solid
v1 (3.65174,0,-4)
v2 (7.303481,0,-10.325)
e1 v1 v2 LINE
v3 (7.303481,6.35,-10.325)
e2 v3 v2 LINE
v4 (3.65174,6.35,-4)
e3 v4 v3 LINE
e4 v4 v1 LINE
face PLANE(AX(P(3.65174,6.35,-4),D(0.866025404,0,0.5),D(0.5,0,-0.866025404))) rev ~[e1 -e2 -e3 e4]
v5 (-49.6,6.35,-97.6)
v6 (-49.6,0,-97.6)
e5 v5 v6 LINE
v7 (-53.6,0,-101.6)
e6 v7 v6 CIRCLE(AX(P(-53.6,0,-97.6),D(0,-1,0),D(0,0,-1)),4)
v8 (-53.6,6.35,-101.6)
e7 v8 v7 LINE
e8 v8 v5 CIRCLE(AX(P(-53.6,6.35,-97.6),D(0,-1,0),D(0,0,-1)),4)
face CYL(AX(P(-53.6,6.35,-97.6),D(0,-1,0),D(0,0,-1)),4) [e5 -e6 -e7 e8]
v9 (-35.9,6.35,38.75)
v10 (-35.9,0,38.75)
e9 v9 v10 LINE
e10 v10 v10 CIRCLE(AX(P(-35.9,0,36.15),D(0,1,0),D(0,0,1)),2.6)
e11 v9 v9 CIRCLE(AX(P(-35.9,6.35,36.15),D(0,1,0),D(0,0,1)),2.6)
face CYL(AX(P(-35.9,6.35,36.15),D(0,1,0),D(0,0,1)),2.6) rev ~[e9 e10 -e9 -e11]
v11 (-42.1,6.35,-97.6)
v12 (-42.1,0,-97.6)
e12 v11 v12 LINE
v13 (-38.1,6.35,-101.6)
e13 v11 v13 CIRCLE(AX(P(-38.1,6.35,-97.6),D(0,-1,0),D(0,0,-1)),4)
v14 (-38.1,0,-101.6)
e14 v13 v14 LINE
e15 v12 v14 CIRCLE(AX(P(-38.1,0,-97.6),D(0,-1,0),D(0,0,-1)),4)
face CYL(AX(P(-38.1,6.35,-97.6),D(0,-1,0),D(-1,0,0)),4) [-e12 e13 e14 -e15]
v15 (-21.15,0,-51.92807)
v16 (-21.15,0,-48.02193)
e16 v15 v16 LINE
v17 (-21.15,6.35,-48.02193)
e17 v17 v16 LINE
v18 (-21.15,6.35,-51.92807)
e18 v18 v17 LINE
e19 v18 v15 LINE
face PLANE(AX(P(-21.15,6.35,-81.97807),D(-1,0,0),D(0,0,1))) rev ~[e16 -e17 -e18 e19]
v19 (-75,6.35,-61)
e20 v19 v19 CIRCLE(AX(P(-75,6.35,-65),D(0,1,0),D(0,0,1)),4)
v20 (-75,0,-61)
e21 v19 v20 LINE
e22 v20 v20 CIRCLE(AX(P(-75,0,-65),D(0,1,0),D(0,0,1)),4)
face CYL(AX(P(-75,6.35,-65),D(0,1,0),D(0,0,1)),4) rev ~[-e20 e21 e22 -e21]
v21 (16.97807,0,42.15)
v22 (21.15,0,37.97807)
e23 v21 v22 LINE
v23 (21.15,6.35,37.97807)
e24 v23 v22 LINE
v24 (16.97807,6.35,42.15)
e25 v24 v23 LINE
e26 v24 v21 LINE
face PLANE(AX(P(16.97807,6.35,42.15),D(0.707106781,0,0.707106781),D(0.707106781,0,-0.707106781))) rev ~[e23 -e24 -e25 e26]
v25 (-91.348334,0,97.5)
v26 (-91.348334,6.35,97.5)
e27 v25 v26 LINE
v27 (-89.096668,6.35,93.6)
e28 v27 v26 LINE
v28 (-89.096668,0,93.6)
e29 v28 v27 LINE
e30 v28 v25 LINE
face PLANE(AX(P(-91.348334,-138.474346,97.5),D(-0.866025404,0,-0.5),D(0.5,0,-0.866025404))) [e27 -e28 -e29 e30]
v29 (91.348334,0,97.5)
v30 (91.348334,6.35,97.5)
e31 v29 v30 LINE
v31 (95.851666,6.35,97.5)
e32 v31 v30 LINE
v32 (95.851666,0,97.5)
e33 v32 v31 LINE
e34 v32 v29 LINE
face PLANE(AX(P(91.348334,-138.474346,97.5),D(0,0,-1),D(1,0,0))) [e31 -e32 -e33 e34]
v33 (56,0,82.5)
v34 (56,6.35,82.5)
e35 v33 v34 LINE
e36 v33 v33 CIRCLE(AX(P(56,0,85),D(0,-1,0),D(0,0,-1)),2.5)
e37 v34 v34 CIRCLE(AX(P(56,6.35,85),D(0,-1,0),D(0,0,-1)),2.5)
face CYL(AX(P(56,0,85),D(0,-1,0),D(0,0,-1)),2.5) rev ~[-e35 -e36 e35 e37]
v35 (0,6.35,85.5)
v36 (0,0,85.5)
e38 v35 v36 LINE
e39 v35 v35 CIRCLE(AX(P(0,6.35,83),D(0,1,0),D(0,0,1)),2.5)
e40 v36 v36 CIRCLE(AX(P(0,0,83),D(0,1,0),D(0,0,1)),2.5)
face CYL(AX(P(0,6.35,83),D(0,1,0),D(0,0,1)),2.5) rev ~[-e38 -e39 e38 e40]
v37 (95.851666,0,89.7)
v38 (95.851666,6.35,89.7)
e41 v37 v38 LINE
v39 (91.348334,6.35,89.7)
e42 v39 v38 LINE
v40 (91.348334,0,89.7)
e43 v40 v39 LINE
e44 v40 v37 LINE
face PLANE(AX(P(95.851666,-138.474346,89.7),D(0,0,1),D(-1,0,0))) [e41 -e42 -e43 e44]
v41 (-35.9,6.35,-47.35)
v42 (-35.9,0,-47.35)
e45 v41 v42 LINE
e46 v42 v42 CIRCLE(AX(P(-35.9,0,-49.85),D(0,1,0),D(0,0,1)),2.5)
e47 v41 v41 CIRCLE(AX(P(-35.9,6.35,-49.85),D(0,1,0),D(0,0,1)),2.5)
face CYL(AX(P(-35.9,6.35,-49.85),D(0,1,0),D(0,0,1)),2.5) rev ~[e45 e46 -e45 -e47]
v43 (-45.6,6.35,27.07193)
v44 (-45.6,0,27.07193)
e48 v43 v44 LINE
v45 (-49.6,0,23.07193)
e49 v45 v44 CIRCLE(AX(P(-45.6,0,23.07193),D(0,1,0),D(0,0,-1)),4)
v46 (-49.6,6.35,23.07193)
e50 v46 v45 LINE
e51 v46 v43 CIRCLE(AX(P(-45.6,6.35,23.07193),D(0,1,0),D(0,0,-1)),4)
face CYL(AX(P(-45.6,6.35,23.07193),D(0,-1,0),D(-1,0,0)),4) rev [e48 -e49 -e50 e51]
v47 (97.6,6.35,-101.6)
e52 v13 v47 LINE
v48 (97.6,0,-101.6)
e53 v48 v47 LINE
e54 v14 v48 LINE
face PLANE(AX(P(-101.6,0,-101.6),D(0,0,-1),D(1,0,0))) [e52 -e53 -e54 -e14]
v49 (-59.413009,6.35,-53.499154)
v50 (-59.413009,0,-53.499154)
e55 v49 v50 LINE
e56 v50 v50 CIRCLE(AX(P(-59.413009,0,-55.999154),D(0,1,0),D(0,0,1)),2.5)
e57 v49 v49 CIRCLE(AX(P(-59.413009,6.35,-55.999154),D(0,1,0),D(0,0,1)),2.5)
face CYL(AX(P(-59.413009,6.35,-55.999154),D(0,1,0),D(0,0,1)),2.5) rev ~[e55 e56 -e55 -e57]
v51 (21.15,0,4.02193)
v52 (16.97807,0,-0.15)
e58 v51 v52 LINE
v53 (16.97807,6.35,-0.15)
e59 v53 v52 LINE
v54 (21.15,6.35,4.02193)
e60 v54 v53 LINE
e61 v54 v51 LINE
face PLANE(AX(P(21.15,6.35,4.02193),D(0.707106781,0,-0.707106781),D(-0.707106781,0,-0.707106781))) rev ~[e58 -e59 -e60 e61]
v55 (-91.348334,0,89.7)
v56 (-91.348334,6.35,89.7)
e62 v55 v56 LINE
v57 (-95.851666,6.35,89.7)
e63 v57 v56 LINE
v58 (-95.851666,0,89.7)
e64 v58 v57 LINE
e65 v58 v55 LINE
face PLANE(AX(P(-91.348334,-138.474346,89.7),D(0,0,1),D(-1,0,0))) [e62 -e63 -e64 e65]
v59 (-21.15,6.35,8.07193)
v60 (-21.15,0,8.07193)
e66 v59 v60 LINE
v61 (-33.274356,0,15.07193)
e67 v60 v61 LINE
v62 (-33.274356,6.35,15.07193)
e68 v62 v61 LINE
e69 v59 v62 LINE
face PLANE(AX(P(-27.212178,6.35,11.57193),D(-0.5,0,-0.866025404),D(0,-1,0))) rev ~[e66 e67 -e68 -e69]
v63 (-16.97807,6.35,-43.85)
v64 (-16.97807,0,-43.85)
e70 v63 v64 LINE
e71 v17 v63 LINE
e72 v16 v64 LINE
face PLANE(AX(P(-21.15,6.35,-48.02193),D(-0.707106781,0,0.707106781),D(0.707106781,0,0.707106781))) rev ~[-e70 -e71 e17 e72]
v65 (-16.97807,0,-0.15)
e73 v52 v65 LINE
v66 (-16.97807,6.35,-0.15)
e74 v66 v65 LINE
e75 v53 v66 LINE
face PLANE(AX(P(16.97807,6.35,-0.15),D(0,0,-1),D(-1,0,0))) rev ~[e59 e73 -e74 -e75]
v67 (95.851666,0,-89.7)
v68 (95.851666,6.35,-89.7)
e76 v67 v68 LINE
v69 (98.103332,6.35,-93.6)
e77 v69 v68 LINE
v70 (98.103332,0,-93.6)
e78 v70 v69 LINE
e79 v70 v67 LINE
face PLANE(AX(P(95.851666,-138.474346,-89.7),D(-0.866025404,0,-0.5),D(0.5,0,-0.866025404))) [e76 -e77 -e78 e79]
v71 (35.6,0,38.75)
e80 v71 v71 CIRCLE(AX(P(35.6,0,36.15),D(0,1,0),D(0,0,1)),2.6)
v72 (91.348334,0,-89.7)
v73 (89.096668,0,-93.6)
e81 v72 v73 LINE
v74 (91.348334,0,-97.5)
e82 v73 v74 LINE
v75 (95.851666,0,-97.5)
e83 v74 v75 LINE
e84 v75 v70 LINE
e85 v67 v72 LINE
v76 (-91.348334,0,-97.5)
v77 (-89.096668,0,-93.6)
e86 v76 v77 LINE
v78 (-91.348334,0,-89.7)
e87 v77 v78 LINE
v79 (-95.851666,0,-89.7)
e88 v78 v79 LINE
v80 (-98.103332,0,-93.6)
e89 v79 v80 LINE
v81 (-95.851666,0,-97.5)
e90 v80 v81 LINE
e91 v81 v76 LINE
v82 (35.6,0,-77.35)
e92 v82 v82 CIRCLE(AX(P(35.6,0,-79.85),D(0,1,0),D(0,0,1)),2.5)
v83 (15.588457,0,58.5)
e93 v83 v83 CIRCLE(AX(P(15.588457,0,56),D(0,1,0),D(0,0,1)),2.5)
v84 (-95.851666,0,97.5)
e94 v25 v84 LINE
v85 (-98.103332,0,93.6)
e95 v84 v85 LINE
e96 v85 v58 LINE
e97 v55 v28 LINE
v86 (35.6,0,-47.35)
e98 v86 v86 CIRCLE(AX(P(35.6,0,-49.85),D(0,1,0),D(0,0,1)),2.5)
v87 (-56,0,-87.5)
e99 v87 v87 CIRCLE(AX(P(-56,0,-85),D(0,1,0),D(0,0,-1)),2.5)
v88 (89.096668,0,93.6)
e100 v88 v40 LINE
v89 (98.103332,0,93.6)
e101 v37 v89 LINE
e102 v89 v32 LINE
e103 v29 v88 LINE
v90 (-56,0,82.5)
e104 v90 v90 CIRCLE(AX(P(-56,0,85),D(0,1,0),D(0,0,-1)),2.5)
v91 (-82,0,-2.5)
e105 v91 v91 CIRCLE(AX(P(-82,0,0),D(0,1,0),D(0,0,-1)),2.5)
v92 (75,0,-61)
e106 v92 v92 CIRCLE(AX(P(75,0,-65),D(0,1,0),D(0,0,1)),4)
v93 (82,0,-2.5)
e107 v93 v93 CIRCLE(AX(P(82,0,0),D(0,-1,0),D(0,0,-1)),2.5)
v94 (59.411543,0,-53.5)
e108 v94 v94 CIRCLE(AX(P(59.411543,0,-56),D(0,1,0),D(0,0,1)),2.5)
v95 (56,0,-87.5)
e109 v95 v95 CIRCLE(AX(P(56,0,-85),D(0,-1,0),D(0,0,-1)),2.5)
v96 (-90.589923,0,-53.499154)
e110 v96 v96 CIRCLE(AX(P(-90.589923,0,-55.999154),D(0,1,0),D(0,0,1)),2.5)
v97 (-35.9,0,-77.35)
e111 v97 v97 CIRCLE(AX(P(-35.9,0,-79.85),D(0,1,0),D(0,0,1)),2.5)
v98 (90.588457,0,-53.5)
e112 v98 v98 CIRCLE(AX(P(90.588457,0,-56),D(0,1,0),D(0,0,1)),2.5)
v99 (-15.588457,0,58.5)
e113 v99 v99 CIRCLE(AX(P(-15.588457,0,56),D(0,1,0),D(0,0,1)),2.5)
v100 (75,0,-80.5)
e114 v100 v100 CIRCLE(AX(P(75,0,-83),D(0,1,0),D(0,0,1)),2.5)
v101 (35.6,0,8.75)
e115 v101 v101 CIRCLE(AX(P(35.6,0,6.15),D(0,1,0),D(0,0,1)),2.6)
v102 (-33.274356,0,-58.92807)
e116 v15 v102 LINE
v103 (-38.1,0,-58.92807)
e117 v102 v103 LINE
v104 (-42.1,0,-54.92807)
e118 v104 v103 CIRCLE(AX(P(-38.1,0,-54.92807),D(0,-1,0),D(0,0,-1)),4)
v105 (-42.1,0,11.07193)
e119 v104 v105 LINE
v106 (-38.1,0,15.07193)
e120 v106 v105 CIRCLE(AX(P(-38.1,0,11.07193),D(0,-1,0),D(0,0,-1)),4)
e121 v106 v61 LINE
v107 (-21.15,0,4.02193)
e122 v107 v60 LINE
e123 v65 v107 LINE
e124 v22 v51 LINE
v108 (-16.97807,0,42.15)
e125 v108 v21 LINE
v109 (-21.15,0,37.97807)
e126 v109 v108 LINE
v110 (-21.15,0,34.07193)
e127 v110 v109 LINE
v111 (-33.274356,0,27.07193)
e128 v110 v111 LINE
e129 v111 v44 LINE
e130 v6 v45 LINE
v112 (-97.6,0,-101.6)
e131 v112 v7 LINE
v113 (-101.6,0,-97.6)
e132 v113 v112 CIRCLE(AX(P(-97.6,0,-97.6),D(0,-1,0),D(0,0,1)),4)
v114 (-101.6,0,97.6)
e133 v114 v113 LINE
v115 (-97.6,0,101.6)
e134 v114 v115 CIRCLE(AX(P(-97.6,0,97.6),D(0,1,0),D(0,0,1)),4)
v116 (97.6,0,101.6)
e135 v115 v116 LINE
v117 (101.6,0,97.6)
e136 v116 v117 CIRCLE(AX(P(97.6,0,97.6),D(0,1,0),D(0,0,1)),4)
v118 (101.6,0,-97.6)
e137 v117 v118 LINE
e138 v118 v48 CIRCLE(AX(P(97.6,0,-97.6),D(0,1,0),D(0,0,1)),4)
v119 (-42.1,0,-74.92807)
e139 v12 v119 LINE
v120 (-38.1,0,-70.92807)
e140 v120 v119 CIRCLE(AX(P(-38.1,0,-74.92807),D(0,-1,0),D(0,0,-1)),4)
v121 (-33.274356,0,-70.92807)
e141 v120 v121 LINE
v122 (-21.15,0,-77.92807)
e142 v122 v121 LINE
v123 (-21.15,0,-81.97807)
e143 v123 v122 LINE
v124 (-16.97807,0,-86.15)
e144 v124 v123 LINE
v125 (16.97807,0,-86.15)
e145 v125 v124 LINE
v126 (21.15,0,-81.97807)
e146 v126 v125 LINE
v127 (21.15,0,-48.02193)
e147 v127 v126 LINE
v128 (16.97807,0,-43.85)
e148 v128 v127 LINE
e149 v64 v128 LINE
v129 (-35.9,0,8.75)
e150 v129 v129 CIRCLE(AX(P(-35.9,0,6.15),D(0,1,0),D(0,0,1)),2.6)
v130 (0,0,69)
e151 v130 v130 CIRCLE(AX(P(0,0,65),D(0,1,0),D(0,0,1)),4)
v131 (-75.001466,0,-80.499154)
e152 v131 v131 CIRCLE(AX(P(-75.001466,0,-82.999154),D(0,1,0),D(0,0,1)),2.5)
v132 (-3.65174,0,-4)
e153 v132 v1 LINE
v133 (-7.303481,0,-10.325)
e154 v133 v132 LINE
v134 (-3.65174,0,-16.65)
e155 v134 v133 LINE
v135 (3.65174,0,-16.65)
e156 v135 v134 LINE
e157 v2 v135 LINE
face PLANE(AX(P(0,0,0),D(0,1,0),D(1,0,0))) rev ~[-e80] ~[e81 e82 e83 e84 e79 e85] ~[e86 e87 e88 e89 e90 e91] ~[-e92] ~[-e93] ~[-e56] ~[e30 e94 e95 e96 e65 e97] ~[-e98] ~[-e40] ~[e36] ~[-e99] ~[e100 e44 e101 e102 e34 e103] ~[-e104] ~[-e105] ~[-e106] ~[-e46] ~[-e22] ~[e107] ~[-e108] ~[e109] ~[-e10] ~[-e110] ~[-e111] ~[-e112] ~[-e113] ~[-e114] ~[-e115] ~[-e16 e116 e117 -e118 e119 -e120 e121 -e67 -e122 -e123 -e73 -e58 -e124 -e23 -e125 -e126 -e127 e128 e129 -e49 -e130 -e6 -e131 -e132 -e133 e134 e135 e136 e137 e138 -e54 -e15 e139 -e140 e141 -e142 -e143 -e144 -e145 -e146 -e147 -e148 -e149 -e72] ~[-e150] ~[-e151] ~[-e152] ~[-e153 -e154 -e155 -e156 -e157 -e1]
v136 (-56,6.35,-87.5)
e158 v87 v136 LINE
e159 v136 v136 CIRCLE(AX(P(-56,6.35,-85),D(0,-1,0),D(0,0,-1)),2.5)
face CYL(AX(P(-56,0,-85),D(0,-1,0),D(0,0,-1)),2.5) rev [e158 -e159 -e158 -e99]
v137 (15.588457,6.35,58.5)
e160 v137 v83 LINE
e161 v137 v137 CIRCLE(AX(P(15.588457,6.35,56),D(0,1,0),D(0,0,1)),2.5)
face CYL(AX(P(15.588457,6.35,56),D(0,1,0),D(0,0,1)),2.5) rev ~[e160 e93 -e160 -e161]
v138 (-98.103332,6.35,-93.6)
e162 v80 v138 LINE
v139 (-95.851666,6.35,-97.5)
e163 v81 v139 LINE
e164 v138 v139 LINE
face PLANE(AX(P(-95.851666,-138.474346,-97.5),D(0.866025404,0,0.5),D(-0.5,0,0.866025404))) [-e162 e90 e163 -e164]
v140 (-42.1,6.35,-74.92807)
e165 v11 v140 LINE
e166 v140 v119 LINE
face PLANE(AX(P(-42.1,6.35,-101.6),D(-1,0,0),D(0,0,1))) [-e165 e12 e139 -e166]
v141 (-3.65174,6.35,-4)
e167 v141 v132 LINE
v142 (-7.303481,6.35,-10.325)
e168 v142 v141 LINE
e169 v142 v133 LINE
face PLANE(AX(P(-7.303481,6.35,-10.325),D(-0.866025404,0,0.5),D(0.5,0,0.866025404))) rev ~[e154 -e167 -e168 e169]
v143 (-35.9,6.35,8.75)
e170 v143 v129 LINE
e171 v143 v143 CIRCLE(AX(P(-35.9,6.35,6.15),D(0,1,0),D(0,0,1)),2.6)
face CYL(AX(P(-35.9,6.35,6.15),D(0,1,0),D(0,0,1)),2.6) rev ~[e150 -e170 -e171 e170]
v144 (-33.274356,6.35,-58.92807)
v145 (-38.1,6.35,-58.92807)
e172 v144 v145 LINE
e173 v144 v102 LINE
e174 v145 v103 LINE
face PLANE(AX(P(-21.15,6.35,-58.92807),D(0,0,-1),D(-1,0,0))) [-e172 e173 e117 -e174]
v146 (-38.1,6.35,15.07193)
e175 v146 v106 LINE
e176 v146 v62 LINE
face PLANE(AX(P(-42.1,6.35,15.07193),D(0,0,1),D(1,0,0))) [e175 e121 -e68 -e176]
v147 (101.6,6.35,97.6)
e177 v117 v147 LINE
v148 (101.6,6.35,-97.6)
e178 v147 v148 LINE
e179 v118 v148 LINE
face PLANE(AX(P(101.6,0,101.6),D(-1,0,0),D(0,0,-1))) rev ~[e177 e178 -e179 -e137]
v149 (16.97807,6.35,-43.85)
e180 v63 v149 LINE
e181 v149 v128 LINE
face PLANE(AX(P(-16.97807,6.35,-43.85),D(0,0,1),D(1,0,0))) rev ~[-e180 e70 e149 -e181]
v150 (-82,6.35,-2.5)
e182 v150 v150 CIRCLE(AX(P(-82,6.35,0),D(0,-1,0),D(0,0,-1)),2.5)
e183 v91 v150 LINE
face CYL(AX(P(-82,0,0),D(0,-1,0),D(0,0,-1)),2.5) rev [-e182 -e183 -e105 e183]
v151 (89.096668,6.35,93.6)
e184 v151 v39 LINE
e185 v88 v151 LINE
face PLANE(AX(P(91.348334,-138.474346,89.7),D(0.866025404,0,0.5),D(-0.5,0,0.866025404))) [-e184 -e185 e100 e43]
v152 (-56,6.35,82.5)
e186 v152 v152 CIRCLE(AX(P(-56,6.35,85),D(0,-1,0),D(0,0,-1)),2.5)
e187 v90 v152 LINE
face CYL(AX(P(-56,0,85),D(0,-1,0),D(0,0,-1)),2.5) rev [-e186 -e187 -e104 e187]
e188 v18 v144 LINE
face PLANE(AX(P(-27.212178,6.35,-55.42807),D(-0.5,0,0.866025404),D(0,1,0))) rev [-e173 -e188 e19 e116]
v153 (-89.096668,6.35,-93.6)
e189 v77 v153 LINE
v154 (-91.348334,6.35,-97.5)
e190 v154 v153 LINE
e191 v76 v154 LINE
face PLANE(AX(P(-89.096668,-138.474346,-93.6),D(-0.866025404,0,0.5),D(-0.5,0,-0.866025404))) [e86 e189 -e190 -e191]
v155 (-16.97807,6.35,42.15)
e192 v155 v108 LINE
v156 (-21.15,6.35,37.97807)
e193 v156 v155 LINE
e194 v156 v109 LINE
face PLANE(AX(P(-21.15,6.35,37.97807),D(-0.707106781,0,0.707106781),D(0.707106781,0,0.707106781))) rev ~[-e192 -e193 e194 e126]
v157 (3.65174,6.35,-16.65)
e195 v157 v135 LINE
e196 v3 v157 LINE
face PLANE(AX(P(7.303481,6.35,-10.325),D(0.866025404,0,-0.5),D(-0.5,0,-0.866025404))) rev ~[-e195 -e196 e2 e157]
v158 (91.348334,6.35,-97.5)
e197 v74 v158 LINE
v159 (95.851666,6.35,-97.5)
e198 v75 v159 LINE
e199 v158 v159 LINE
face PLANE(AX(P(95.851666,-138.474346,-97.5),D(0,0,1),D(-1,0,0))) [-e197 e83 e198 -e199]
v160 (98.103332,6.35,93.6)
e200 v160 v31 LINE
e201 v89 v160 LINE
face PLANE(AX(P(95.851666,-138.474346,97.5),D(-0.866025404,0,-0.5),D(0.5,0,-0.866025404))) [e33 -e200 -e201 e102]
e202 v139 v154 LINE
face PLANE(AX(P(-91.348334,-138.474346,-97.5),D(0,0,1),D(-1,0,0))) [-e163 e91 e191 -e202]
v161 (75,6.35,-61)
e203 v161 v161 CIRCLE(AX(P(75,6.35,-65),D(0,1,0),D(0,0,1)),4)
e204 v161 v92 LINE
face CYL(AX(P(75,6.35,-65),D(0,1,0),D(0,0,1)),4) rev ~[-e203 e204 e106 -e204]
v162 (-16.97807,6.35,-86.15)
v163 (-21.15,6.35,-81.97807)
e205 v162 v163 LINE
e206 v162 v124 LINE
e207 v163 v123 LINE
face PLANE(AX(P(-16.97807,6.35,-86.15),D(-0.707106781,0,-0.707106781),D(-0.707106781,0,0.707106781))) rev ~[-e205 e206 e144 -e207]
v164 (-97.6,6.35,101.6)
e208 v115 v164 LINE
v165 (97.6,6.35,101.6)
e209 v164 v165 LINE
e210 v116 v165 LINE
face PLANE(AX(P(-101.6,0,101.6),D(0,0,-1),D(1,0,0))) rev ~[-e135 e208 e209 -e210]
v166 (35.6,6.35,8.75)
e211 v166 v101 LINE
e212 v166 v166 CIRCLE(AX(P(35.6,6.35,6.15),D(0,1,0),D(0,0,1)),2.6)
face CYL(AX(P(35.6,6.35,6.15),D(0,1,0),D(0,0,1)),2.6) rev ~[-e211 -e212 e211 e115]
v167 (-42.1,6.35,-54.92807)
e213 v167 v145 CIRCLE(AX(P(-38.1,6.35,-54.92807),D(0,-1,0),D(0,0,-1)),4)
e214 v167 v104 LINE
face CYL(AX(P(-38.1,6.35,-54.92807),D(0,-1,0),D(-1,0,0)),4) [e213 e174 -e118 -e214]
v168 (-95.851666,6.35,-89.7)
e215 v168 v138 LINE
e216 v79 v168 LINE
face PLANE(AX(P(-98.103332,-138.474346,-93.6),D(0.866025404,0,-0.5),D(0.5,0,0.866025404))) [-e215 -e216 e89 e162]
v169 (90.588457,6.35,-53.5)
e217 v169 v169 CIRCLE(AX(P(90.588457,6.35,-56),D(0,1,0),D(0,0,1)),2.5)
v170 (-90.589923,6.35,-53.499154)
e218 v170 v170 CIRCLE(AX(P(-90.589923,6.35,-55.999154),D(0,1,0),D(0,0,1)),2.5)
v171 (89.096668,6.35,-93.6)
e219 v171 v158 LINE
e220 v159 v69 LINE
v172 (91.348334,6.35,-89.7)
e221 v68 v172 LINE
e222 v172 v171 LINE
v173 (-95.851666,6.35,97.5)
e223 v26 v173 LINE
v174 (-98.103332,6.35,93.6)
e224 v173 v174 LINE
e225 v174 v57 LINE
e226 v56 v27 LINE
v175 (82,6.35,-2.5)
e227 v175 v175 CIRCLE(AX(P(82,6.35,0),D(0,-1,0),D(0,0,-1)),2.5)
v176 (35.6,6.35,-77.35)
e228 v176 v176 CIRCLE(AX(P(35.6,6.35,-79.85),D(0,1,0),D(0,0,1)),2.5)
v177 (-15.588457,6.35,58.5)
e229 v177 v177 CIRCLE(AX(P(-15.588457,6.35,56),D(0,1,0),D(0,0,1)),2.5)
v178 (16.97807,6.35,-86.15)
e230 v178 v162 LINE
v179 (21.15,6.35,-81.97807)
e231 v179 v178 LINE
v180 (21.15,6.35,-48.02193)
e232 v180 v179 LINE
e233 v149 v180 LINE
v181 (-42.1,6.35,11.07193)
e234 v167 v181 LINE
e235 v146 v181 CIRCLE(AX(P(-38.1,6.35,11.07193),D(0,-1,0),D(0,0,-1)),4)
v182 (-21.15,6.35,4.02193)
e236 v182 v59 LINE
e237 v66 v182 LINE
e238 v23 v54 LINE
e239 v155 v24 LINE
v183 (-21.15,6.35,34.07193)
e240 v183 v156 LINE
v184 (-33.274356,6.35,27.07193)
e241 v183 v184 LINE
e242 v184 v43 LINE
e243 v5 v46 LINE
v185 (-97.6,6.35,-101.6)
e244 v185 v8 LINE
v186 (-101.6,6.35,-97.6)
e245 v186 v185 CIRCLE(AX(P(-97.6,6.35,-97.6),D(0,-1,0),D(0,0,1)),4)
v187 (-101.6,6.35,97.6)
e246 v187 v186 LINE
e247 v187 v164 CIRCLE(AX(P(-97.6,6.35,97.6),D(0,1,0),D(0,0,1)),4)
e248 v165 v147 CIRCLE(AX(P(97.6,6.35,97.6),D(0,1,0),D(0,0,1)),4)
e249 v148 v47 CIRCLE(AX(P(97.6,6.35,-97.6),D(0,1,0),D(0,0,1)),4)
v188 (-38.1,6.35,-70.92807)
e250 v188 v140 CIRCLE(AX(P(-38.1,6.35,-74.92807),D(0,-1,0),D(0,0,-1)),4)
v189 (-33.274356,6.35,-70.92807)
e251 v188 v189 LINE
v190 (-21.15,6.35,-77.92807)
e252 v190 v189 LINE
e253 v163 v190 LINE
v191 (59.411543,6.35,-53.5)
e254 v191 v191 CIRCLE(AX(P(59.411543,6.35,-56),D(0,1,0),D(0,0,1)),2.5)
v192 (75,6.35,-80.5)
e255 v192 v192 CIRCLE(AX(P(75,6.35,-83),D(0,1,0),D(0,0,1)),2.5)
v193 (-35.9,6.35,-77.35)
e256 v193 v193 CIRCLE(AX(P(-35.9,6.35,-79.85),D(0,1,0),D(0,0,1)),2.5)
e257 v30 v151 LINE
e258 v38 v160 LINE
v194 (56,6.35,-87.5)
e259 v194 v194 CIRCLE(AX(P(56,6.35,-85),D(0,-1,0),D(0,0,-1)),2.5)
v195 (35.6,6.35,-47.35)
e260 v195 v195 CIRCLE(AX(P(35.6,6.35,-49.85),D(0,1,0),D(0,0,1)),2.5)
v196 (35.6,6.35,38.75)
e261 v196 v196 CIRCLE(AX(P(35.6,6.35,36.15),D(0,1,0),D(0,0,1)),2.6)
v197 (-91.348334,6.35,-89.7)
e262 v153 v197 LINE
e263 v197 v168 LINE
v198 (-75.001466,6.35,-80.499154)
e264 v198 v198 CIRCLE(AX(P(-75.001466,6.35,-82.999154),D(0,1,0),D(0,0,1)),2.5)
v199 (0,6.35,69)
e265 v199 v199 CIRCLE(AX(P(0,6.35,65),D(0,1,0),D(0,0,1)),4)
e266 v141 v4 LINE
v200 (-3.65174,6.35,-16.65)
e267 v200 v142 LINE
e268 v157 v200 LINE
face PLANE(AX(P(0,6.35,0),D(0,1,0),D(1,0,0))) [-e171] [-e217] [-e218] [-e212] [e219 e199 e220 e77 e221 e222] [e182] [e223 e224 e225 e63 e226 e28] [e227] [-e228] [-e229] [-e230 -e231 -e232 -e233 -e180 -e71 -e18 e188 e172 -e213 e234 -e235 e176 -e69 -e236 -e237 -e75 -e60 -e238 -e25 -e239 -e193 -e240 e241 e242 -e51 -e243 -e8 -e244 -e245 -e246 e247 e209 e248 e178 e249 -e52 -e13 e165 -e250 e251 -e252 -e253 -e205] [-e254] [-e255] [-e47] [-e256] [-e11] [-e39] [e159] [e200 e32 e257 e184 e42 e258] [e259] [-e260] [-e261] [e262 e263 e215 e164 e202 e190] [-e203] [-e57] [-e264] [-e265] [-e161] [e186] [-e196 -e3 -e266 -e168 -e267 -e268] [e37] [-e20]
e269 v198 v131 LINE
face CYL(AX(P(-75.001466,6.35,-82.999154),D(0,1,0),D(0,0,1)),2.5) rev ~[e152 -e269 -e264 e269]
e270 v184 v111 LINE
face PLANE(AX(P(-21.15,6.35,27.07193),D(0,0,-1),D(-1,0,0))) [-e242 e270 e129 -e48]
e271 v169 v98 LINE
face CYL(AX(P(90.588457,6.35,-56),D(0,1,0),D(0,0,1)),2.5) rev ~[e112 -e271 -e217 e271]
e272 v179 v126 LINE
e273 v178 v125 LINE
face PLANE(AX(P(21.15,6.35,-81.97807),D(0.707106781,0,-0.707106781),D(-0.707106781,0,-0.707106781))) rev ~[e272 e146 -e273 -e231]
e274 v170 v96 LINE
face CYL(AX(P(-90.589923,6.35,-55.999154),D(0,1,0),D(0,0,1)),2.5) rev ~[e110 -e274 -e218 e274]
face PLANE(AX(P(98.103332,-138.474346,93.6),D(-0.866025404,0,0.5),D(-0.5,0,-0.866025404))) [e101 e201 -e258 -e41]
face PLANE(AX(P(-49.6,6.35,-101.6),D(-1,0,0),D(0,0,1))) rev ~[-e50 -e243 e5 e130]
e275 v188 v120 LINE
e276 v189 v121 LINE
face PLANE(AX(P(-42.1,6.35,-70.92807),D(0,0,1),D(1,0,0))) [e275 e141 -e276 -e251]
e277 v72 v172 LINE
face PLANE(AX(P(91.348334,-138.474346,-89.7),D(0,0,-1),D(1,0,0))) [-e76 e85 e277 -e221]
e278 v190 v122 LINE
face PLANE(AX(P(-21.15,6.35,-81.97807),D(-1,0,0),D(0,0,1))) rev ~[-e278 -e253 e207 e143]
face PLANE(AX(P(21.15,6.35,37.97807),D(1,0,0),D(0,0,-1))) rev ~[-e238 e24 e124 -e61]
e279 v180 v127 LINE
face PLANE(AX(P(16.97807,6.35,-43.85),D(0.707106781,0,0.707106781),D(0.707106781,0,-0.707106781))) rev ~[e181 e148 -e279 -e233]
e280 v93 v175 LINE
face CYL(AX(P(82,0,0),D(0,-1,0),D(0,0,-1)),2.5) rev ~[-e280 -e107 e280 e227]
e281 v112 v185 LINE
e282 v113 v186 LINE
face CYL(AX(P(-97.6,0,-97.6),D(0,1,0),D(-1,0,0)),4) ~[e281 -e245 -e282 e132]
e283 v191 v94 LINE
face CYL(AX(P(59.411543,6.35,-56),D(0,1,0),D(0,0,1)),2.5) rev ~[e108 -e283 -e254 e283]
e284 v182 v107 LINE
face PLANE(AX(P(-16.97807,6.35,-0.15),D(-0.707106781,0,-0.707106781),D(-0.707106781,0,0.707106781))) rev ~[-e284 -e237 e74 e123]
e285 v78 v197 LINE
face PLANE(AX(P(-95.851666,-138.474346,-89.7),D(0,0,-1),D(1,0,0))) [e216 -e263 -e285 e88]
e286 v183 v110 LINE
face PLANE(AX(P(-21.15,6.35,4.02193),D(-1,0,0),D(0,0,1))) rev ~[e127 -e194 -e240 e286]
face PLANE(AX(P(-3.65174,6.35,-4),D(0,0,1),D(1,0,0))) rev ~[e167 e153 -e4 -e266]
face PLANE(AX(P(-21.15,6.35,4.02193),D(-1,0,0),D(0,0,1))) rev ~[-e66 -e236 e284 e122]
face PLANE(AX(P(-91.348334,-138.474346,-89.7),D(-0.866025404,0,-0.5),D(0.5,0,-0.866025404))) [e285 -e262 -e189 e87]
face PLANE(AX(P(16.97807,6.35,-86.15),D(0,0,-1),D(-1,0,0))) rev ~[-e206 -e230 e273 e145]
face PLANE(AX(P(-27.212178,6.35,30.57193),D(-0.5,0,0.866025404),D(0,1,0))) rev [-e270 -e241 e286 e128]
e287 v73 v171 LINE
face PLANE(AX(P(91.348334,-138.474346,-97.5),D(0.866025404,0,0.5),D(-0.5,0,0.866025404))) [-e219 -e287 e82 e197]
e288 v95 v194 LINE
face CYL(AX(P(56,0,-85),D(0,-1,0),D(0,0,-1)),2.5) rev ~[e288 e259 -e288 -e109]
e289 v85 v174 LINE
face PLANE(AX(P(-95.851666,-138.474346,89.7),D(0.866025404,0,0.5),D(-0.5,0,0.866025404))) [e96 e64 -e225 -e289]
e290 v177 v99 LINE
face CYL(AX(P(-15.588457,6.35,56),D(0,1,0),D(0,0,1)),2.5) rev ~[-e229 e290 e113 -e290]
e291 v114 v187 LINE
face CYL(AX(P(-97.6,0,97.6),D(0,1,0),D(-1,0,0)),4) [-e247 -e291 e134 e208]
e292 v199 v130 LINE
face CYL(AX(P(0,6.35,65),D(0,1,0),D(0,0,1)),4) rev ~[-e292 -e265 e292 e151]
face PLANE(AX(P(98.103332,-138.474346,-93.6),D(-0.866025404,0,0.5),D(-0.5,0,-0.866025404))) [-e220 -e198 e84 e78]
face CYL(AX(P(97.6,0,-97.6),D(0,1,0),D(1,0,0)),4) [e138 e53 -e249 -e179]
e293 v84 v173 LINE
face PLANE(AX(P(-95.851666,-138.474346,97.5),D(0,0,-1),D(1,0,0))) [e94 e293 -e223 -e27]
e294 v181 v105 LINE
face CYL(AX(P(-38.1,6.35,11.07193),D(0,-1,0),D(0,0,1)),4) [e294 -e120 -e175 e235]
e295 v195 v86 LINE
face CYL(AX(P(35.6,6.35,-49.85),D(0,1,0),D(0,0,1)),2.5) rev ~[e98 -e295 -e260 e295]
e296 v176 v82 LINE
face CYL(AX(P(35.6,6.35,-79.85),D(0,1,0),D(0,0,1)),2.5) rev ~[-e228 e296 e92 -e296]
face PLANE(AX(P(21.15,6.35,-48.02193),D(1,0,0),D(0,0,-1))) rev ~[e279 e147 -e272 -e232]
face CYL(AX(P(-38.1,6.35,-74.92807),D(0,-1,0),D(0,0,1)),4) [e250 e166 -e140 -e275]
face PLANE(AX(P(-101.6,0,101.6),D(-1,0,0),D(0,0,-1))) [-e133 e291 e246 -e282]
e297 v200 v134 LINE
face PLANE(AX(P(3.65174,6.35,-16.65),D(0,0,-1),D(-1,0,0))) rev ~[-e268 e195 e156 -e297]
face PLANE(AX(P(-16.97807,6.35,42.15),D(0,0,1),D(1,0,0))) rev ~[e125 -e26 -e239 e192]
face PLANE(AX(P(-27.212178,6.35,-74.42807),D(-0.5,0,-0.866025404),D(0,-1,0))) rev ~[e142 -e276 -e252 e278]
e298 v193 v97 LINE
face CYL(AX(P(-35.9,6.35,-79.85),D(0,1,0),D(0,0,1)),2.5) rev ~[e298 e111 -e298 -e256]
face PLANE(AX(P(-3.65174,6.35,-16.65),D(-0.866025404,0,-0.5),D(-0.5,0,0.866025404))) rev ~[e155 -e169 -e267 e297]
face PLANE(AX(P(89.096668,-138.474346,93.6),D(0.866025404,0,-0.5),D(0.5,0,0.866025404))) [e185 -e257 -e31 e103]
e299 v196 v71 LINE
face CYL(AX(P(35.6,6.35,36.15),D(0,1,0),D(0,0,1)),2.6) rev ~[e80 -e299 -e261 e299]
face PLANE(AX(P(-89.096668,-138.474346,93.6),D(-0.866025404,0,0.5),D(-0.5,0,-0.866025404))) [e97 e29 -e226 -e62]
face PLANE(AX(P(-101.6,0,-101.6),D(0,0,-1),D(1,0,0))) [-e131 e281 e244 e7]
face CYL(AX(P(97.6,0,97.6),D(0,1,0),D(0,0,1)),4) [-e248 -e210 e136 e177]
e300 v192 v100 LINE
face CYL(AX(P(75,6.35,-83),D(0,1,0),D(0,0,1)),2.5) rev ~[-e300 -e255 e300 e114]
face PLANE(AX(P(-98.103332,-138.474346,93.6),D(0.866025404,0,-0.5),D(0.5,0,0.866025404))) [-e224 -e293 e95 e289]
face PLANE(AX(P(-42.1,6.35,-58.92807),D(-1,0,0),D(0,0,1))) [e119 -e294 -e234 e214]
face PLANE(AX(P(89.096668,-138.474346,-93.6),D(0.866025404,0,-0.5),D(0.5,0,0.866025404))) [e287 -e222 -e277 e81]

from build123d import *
from OCP.BRepFilletAPI import BRepFilletAPI_MakeChamfer

# Parameters (mm, degrees)
ESQUISSE1_W                  = 203.2
ESQUISSE1_H                  = 203.2
BOSS_EXTRU_1_DEPTH           = 6.35
ESQUISSE2_R                  = 4
ENL_V_MAT_EXTRU_1_DEPTH      = 144.824345992
ENL_V_MAT_EXTRU_2_DEPTH      = 144.824345992
ESQUISSE5_R                  = 2.5
ENL_V_MAT_EXTRU_4_DEPTH      = 144.824345992
ESQUISSE6_R                  = 2.5
ENL_V_MAT_EXTRU_5_DEPTH      = 144.824345992
ENL_V_MAT_EXTRU_6_DEPTH      = 144.824345992
ENL_V_MAT_EXTRU_6_DEPTH_BACK = 144.824345992
ESQUISSE8_R                  = 2.5
ENL_V_MAT_EXTRU_7_DEPTH      = 144.824345992
ENL_V_MAT_EXTRU_8_DEPTH      = 144.824345992
ESQUISSE10_R                 = 2.5
ENL_V_MAT_EXTRU_9_DEPTH      = 144.824345992
ENL_V_MAT_EXTRU_11_DEPTH     = 144.824345992
ENL_V_MAT_EXTRU_10_DEPTH     = 144.824345992
CONG_1_R                     = 4
ESQUISSE16_R                 = 2.6
ENL_V_MAT_EXTRU_12_DEPTH     = 144.824345992
CHANFREIN1_SIZE              = 7
CHANFREIN1_SIZE2             = 12.124355653
CHANFREIN2_SIZE              = 7
CHANFREIN2_SIZE2             = 12.124355653


with BuildPart() as part:
    # Esquisse1 → Boss.-Extru.1 (new body)
    with BuildSketch(Plane(origin=(0, 0, 0), x_dir=(1, 0, 0), z_dir=(0, 1, 0))):
        Rectangle(ESQUISSE1_W, ESQUISSE1_H)
    extrude(amount=BOSS_EXTRU_1_DEPTH)

    # Esquisse2 → Enlèv. mat.-Extru.1 (cut, through all)
    with BuildSketch(Plane(origin=(0, 6.35, 0), x_dir=(1, 0, 0), z_dir=(0, 1, 0))):
        with Locations(Location((-75, 65, 0), (0, 0, 270))):
            Circle(ESQUISSE2_R)
        with Locations(Location((75, 65, 0), (0, 0, 270))):
            Circle(ESQUISSE2_R)
        with Locations(Location((0, -65, 0), (0, 0, 270))):
            Circle(ESQUISSE2_R)
    extrude(amount=-ENL_V_MAT_EXTRU_1_DEPTH, mode=Mode.SUBTRACT)

    # Esquisse3 → Enlèv. mat.-Extru.2 (cut, through all)
    with BuildSketch(Plane(origin=(0, 6.35, 0), x_dir=(1, 0, 0), z_dir=(0, 1, 0))):
        Polygon((-16.978069991, 86.15), (-21.15, 81.978069991), (-21.15, 48.021930009), (-16.978069991, 43.85), (16.978069991, 43.85), (21.15, 48.021930009), (21.15, 81.978069991), (16.978069991, 86.15), align=None)
    extrude(amount=-ENL_V_MAT_EXTRU_2_DEPTH, mode=Mode.SUBTRACT)

    # Esquisse5 → Enlèv. mat.-Extru.4 (cut, through all)
    with BuildSketch(Plane(origin=(0, 6.35, 0), x_dir=(1, 0, 0), z_dir=(0, 1, 0))):
        with Locations(Location((-35.9, 49.85, 0), (0, 0, 270))):
            Circle(ESQUISSE5_R)
        with Locations(Location((-35.9, 79.85, 0), (0, 0, 270))):
            Circle(ESQUISSE5_R)
        with Locations(Location((35.6, 79.85, 0), (0, 0, 270))):
            Circle(ESQUISSE5_R)
        with Locations(Location((35.6, 49.85, 0), (0, 0, 270))):
            Circle(ESQUISSE5_R)
    extrude(amount=-ENL_V_MAT_EXTRU_4_DEPTH, mode=Mode.SUBTRACT)

    # Esquisse6 → Enlèv. mat.-Extru.5 (cut, through all)
    with BuildSketch(Plane(origin=(0, 6.35, 0), x_dir=(1, 0, 0), z_dir=(0, 1, 0))):
        with Locations(Location((93.6, -93.6, 0), (0, 0, 270))):
            Circle(ESQUISSE6_R)
        with Locations(Location((-93.6, -93.6, 0), (0, 0, 270))):
            Circle(ESQUISSE6_R)
        with Locations(Location((-93.6, 93.6, 0), (0, 0, 270))):
            Circle(ESQUISSE6_R)
        with Locations(Location((93.6, 93.6, 0), (0, 0, 270))):
            Circle(ESQUISSE6_R)
    extrude(amount=-ENL_V_MAT_EXTRU_5_DEPTH, mode=Mode.SUBTRACT)

    # Esquisse7 → Enlèv. mat.-Extru.6 (cut, two sides: drawn at the far end of the back side and taken through both)
    with BuildSketch(Plane(origin=(0, 6.35, 0), x_dir=(1, 0, 0), z_dir=(0, 1, 0)).offset(-ENL_V_MAT_EXTRU_6_DEPTH_BACK)):
        Polygon((-98.1033321, -93.6), (-95.85166605, -97.5), (-91.34833395, -97.5), (-89.0966679, -93.6), (-91.34833395, -89.7), (-95.85166605, -89.7), align=None)
        Polygon((89.0966679, -93.6), (91.34833395, -97.5), (95.85166605, -97.5), (98.1033321, -93.6), (95.85166605, -89.7), (91.34833395, -89.7), align=None)
        Polygon((89.0966679, 93.6), (91.34833395, 89.7), (95.85166605, 89.7), (98.1033321, 93.6), (95.85166605, 97.5), (91.34833395, 97.5), align=None)
        Polygon((-98.1033321, 93.6), (-95.85166605, 89.7), (-91.34833395, 89.7), (-89.0966679, 93.6), (-91.34833395, 97.5), (-95.85166605, 97.5), align=None)
    extrude(amount=ENL_V_MAT_EXTRU_6_DEPTH + ENL_V_MAT_EXTRU_6_DEPTH_BACK, mode=Mode.SUBTRACT)

    # Esquisse8 → Enlèv. mat.-Extru.7 (cut, through all)
    with BuildSketch(Plane(origin=(0, 6.35, 0), x_dir=(1, 0, 0), z_dir=(0, 1, 0))):
        with Locations(Location((90.588457268, 56, 0), (0, 0, 270))):
            Circle(ESQUISSE8_R)
        with Locations(Location((59.411542732, 56, 0), (0, 0, 270))):
            Circle(ESQUISSE8_R)
        with Locations(Location((75, 83, 0), (0, 0, 270))):
            Circle(ESQUISSE8_R)
        with Locations(Location((-90.589923123, 55.999154304, 0), (0, 0, 270))):
            Circle(ESQUISSE8_R)
        with Locations(Location((-75.001465855, 82.999154304, 0), (0, 0, 270))):
            Circle(ESQUISSE8_R)
        with Locations(Location((-59.413008586, 55.999154304, 0), (0, 0, 270))):
            Circle(ESQUISSE8_R)
        with Locations(Location((-15.588457268, -56, 0), (0, 0, 270))):
            Circle(ESQUISSE8_R)
        with Locations(Location((15.588457268, -56, 0), (0, 0, 270))):
            Circle(ESQUISSE8_R)
        with Locations(Location((0, -83, 0), (0, 0, 270))):
            Circle(ESQUISSE8_R)
    extrude(amount=-ENL_V_MAT_EXTRU_7_DEPTH, mode=Mode.SUBTRACT)

    # Esquisse9 → Enlèv. mat.-Extru.8 (cut, through all)
    with BuildSketch(Plane(origin=(0, 6.35, 0), x_dir=(1, 0, 0), z_dir=(0, 1, 0))):
        Polygon((-7.303480905, 10.325), (-3.651740453, 4), (3.651740453, 4), (7.303480905, 10.325), (3.651740453, 16.65), (-3.651740453, 16.65), align=None)
    extrude(amount=-ENL_V_MAT_EXTRU_8_DEPTH, mode=Mode.SUBTRACT)

    # Esquisse10 → Enlèv. mat.-Extru.9 (cut, through all)
    with BuildSketch(Plane.XZ):
        with Locations(Location((56, -85, 0), (0, 0, 270))):
            Circle(ESQUISSE10_R)
        with Locations(Location((82, 0, 0), (0, 0, 270))):
            Circle(ESQUISSE10_R)
        with Locations(Location((56, 85, 0), (0, 0, 270))):
            Circle(ESQUISSE10_R)
    enl_v_mat_extru_9 = extrude(amount=-ENL_V_MAT_EXTRU_9_DEPTH, mode=Mode.SUBTRACT)

    # Symétrie1: Enlèv. mat.-Extru.9 across plane
    add(enl_v_mat_extru_9.mirror(Plane(origin=(0, 0, 0), x_dir=(0, 0, 1), z_dir=(1, 0, 0))), mode=Mode.SUBTRACT)

    # Esquisse13 → Enlèv. mat.-Extru.11 (cut, through all)
    with BuildSketch(Plane(origin=(0, 6.35, 0), x_dir=(1, 0, 0), z_dir=(0, 1, 0))):
        Polygon((16.978069991, -42.150000003), (21.15, -37.978069994), (21.15, -4.021930012), (16.978069991, 0.149999997), (-16.978069991, 0.149999997), (-21.15, -4.021930012), (-21.15, -37.978069994), (-16.978069991, -42.150000003), align=None)
    extrude(amount=-ENL_V_MAT_EXTRU_11_DEPTH, mode=Mode.SUBTRACT)

    # Esquisse11 → Enlèv. mat.-Extru.10 (cut, through all)
    with BuildSketch(Plane(origin=(0, 6.35, 0), x_dir=(1, 0, 0), z_dir=(0, 1, 0))):
        Polygon((-21.15, 58.928069991), (-42.1, 58.928069991), (-42.1, -15.071930012), (-21.15, -15.071930012), (-21.15, -27.071930012), (-49.6, -27.071930012), (-49.6, -15.071930012), (-49.6, 58.928069991), (-49.6, 101.6), (-42.1, 101.6), (-42.1, 70.928069991), (-21.15, 70.928069991), align=None)
    extrude(amount=-ENL_V_MAT_EXTRU_10_DEPTH, mode=Mode.SUBTRACT)

    # Congé1
    cong_1_edges = [part.edges().sort_by_distance(p)[0] for p in [
        (-42.1, 3.175, -58.928069991),
        (-42.1, 3.175, 15.071930012),
        (-49.6, 3.175, 27.071930012),
        (-49.6, 3.175, -101.6),
        (-42.1, 3.175, -101.6),
        (-42.1, 3.175, -70.928069991),
        (101.6, 3.175, 101.6),
        (-101.6, 3.175, 101.6),
        (-101.6, 3.175, -101.6),
        (101.6, 3.175, -101.6),
    ]]
    fillet(cong_1_edges, radius=CONG_1_R)

    # Esquisse16 → Enlèv. mat.-Extru.12 (cut, through all)
    with BuildSketch(Plane(origin=(0, 6.35, 0), x_dir=(1, 0, 0), z_dir=(0, 1, 0))):
        with Locations(Location((35.6, -36.15, 0), (0, 0, 270))):
            Circle(ESQUISSE16_R)
        with Locations(Location((35.6, -6.15, 0), (0, 0, 270))):
            Circle(ESQUISSE16_R)
        with Locations(Location((-35.9, -6.15, 0), (0, 0, 270))):
            Circle(ESQUISSE16_R)
        with Locations(Location((-35.9, -36.15, 0), (0, 0, 270))):
            Circle(ESQUISSE16_R)
    extrude(amount=-ENL_V_MAT_EXTRU_12_DEPTH, mode=Mode.SUBTRACT)

    # Chanfrein1: one chamfer whose edges measure the first distance from different faces: ONE call of the kernel's chamfer builder (chamfer() names one face for all edges)
    chanfrein1_edges_1 = [part.edges().sort_by_distance(p)[0] for p in [
        (-21.15, 3.175, -70.928069991),
    ]]
    chanfrein1_side_1 = [part.faces().sort_by_distance(p)[0] for p in [
        (-21.15, 3.175, -76.453069991),
    ]]
    chanfrein1_edges_2 = [part.edges().sort_by_distance(p)[0] for p in [
        (-21.15, 3.175, -58.928069991),
    ]]
    chanfrein1_side_2 = [part.faces().sort_by_distance(p)[0] for p in [
        (-21.15, 3.175, -53.475),
    ]]
    chanfrein1 = BRepFilletAPI_MakeChamfer(part.part.solid().wrapped)
    for e in chanfrein1_edges_1:
        chanfrein1.Add(CHANFREIN1_SIZE, CHANFREIN1_SIZE2, e.wrapped, chanfrein1_side_1[0].wrapped)  # the first distance lies on this face
    for e in chanfrein1_edges_2:
        chanfrein1.Add(CHANFREIN1_SIZE, CHANFREIN1_SIZE2, e.wrapped, chanfrein1_side_2[0].wrapped)  # the first distance lies on this face
    add(Compound.cast(chanfrein1.Shape()), mode=Mode.REPLACE)

    # Chanfrein2: one chamfer whose edges measure the first distance from different faces: ONE call of the kernel's chamfer builder (chamfer() names one face for all edges)
    chanfrein2_edges_1 = [part.edges().sort_by_distance(p)[0] for p in [
        (-21.15, 3.175, 15.071930012),
    ]]
    chanfrein2_side_1 = [part.faces().sort_by_distance(p)[0] for p in [
        (-21.15, 3.175, 9.546930012),
    ]]
    chanfrein2_edges_2 = [part.edges().sort_by_distance(p)[0] for p in [
        (-21.15, 3.175, 27.071930012),
    ]]
    chanfrein2_side_2 = [part.faces().sort_by_distance(p)[0] for p in [
        (-21.15, 3.175, 32.525000003),
    ]]
    chanfrein2 = BRepFilletAPI_MakeChamfer(part.part.solid().wrapped)
    for e in chanfrein2_edges_1:
        chanfrein2.Add(CHANFREIN2_SIZE, CHANFREIN2_SIZE2, e.wrapped, chanfrein2_side_1[0].wrapped)  # the first distance lies on this face
    for e in chanfrein2_edges_2:
        chanfrein2.Add(CHANFREIN2_SIZE, CHANFREIN2_SIZE2, e.wrapped, chanfrein2_side_2[0].wrapped)  # the first distance lies on this face
    add(Compound.cast(chanfrein2.Shape()), mode=Mode.REPLACE)


solid = part.part
